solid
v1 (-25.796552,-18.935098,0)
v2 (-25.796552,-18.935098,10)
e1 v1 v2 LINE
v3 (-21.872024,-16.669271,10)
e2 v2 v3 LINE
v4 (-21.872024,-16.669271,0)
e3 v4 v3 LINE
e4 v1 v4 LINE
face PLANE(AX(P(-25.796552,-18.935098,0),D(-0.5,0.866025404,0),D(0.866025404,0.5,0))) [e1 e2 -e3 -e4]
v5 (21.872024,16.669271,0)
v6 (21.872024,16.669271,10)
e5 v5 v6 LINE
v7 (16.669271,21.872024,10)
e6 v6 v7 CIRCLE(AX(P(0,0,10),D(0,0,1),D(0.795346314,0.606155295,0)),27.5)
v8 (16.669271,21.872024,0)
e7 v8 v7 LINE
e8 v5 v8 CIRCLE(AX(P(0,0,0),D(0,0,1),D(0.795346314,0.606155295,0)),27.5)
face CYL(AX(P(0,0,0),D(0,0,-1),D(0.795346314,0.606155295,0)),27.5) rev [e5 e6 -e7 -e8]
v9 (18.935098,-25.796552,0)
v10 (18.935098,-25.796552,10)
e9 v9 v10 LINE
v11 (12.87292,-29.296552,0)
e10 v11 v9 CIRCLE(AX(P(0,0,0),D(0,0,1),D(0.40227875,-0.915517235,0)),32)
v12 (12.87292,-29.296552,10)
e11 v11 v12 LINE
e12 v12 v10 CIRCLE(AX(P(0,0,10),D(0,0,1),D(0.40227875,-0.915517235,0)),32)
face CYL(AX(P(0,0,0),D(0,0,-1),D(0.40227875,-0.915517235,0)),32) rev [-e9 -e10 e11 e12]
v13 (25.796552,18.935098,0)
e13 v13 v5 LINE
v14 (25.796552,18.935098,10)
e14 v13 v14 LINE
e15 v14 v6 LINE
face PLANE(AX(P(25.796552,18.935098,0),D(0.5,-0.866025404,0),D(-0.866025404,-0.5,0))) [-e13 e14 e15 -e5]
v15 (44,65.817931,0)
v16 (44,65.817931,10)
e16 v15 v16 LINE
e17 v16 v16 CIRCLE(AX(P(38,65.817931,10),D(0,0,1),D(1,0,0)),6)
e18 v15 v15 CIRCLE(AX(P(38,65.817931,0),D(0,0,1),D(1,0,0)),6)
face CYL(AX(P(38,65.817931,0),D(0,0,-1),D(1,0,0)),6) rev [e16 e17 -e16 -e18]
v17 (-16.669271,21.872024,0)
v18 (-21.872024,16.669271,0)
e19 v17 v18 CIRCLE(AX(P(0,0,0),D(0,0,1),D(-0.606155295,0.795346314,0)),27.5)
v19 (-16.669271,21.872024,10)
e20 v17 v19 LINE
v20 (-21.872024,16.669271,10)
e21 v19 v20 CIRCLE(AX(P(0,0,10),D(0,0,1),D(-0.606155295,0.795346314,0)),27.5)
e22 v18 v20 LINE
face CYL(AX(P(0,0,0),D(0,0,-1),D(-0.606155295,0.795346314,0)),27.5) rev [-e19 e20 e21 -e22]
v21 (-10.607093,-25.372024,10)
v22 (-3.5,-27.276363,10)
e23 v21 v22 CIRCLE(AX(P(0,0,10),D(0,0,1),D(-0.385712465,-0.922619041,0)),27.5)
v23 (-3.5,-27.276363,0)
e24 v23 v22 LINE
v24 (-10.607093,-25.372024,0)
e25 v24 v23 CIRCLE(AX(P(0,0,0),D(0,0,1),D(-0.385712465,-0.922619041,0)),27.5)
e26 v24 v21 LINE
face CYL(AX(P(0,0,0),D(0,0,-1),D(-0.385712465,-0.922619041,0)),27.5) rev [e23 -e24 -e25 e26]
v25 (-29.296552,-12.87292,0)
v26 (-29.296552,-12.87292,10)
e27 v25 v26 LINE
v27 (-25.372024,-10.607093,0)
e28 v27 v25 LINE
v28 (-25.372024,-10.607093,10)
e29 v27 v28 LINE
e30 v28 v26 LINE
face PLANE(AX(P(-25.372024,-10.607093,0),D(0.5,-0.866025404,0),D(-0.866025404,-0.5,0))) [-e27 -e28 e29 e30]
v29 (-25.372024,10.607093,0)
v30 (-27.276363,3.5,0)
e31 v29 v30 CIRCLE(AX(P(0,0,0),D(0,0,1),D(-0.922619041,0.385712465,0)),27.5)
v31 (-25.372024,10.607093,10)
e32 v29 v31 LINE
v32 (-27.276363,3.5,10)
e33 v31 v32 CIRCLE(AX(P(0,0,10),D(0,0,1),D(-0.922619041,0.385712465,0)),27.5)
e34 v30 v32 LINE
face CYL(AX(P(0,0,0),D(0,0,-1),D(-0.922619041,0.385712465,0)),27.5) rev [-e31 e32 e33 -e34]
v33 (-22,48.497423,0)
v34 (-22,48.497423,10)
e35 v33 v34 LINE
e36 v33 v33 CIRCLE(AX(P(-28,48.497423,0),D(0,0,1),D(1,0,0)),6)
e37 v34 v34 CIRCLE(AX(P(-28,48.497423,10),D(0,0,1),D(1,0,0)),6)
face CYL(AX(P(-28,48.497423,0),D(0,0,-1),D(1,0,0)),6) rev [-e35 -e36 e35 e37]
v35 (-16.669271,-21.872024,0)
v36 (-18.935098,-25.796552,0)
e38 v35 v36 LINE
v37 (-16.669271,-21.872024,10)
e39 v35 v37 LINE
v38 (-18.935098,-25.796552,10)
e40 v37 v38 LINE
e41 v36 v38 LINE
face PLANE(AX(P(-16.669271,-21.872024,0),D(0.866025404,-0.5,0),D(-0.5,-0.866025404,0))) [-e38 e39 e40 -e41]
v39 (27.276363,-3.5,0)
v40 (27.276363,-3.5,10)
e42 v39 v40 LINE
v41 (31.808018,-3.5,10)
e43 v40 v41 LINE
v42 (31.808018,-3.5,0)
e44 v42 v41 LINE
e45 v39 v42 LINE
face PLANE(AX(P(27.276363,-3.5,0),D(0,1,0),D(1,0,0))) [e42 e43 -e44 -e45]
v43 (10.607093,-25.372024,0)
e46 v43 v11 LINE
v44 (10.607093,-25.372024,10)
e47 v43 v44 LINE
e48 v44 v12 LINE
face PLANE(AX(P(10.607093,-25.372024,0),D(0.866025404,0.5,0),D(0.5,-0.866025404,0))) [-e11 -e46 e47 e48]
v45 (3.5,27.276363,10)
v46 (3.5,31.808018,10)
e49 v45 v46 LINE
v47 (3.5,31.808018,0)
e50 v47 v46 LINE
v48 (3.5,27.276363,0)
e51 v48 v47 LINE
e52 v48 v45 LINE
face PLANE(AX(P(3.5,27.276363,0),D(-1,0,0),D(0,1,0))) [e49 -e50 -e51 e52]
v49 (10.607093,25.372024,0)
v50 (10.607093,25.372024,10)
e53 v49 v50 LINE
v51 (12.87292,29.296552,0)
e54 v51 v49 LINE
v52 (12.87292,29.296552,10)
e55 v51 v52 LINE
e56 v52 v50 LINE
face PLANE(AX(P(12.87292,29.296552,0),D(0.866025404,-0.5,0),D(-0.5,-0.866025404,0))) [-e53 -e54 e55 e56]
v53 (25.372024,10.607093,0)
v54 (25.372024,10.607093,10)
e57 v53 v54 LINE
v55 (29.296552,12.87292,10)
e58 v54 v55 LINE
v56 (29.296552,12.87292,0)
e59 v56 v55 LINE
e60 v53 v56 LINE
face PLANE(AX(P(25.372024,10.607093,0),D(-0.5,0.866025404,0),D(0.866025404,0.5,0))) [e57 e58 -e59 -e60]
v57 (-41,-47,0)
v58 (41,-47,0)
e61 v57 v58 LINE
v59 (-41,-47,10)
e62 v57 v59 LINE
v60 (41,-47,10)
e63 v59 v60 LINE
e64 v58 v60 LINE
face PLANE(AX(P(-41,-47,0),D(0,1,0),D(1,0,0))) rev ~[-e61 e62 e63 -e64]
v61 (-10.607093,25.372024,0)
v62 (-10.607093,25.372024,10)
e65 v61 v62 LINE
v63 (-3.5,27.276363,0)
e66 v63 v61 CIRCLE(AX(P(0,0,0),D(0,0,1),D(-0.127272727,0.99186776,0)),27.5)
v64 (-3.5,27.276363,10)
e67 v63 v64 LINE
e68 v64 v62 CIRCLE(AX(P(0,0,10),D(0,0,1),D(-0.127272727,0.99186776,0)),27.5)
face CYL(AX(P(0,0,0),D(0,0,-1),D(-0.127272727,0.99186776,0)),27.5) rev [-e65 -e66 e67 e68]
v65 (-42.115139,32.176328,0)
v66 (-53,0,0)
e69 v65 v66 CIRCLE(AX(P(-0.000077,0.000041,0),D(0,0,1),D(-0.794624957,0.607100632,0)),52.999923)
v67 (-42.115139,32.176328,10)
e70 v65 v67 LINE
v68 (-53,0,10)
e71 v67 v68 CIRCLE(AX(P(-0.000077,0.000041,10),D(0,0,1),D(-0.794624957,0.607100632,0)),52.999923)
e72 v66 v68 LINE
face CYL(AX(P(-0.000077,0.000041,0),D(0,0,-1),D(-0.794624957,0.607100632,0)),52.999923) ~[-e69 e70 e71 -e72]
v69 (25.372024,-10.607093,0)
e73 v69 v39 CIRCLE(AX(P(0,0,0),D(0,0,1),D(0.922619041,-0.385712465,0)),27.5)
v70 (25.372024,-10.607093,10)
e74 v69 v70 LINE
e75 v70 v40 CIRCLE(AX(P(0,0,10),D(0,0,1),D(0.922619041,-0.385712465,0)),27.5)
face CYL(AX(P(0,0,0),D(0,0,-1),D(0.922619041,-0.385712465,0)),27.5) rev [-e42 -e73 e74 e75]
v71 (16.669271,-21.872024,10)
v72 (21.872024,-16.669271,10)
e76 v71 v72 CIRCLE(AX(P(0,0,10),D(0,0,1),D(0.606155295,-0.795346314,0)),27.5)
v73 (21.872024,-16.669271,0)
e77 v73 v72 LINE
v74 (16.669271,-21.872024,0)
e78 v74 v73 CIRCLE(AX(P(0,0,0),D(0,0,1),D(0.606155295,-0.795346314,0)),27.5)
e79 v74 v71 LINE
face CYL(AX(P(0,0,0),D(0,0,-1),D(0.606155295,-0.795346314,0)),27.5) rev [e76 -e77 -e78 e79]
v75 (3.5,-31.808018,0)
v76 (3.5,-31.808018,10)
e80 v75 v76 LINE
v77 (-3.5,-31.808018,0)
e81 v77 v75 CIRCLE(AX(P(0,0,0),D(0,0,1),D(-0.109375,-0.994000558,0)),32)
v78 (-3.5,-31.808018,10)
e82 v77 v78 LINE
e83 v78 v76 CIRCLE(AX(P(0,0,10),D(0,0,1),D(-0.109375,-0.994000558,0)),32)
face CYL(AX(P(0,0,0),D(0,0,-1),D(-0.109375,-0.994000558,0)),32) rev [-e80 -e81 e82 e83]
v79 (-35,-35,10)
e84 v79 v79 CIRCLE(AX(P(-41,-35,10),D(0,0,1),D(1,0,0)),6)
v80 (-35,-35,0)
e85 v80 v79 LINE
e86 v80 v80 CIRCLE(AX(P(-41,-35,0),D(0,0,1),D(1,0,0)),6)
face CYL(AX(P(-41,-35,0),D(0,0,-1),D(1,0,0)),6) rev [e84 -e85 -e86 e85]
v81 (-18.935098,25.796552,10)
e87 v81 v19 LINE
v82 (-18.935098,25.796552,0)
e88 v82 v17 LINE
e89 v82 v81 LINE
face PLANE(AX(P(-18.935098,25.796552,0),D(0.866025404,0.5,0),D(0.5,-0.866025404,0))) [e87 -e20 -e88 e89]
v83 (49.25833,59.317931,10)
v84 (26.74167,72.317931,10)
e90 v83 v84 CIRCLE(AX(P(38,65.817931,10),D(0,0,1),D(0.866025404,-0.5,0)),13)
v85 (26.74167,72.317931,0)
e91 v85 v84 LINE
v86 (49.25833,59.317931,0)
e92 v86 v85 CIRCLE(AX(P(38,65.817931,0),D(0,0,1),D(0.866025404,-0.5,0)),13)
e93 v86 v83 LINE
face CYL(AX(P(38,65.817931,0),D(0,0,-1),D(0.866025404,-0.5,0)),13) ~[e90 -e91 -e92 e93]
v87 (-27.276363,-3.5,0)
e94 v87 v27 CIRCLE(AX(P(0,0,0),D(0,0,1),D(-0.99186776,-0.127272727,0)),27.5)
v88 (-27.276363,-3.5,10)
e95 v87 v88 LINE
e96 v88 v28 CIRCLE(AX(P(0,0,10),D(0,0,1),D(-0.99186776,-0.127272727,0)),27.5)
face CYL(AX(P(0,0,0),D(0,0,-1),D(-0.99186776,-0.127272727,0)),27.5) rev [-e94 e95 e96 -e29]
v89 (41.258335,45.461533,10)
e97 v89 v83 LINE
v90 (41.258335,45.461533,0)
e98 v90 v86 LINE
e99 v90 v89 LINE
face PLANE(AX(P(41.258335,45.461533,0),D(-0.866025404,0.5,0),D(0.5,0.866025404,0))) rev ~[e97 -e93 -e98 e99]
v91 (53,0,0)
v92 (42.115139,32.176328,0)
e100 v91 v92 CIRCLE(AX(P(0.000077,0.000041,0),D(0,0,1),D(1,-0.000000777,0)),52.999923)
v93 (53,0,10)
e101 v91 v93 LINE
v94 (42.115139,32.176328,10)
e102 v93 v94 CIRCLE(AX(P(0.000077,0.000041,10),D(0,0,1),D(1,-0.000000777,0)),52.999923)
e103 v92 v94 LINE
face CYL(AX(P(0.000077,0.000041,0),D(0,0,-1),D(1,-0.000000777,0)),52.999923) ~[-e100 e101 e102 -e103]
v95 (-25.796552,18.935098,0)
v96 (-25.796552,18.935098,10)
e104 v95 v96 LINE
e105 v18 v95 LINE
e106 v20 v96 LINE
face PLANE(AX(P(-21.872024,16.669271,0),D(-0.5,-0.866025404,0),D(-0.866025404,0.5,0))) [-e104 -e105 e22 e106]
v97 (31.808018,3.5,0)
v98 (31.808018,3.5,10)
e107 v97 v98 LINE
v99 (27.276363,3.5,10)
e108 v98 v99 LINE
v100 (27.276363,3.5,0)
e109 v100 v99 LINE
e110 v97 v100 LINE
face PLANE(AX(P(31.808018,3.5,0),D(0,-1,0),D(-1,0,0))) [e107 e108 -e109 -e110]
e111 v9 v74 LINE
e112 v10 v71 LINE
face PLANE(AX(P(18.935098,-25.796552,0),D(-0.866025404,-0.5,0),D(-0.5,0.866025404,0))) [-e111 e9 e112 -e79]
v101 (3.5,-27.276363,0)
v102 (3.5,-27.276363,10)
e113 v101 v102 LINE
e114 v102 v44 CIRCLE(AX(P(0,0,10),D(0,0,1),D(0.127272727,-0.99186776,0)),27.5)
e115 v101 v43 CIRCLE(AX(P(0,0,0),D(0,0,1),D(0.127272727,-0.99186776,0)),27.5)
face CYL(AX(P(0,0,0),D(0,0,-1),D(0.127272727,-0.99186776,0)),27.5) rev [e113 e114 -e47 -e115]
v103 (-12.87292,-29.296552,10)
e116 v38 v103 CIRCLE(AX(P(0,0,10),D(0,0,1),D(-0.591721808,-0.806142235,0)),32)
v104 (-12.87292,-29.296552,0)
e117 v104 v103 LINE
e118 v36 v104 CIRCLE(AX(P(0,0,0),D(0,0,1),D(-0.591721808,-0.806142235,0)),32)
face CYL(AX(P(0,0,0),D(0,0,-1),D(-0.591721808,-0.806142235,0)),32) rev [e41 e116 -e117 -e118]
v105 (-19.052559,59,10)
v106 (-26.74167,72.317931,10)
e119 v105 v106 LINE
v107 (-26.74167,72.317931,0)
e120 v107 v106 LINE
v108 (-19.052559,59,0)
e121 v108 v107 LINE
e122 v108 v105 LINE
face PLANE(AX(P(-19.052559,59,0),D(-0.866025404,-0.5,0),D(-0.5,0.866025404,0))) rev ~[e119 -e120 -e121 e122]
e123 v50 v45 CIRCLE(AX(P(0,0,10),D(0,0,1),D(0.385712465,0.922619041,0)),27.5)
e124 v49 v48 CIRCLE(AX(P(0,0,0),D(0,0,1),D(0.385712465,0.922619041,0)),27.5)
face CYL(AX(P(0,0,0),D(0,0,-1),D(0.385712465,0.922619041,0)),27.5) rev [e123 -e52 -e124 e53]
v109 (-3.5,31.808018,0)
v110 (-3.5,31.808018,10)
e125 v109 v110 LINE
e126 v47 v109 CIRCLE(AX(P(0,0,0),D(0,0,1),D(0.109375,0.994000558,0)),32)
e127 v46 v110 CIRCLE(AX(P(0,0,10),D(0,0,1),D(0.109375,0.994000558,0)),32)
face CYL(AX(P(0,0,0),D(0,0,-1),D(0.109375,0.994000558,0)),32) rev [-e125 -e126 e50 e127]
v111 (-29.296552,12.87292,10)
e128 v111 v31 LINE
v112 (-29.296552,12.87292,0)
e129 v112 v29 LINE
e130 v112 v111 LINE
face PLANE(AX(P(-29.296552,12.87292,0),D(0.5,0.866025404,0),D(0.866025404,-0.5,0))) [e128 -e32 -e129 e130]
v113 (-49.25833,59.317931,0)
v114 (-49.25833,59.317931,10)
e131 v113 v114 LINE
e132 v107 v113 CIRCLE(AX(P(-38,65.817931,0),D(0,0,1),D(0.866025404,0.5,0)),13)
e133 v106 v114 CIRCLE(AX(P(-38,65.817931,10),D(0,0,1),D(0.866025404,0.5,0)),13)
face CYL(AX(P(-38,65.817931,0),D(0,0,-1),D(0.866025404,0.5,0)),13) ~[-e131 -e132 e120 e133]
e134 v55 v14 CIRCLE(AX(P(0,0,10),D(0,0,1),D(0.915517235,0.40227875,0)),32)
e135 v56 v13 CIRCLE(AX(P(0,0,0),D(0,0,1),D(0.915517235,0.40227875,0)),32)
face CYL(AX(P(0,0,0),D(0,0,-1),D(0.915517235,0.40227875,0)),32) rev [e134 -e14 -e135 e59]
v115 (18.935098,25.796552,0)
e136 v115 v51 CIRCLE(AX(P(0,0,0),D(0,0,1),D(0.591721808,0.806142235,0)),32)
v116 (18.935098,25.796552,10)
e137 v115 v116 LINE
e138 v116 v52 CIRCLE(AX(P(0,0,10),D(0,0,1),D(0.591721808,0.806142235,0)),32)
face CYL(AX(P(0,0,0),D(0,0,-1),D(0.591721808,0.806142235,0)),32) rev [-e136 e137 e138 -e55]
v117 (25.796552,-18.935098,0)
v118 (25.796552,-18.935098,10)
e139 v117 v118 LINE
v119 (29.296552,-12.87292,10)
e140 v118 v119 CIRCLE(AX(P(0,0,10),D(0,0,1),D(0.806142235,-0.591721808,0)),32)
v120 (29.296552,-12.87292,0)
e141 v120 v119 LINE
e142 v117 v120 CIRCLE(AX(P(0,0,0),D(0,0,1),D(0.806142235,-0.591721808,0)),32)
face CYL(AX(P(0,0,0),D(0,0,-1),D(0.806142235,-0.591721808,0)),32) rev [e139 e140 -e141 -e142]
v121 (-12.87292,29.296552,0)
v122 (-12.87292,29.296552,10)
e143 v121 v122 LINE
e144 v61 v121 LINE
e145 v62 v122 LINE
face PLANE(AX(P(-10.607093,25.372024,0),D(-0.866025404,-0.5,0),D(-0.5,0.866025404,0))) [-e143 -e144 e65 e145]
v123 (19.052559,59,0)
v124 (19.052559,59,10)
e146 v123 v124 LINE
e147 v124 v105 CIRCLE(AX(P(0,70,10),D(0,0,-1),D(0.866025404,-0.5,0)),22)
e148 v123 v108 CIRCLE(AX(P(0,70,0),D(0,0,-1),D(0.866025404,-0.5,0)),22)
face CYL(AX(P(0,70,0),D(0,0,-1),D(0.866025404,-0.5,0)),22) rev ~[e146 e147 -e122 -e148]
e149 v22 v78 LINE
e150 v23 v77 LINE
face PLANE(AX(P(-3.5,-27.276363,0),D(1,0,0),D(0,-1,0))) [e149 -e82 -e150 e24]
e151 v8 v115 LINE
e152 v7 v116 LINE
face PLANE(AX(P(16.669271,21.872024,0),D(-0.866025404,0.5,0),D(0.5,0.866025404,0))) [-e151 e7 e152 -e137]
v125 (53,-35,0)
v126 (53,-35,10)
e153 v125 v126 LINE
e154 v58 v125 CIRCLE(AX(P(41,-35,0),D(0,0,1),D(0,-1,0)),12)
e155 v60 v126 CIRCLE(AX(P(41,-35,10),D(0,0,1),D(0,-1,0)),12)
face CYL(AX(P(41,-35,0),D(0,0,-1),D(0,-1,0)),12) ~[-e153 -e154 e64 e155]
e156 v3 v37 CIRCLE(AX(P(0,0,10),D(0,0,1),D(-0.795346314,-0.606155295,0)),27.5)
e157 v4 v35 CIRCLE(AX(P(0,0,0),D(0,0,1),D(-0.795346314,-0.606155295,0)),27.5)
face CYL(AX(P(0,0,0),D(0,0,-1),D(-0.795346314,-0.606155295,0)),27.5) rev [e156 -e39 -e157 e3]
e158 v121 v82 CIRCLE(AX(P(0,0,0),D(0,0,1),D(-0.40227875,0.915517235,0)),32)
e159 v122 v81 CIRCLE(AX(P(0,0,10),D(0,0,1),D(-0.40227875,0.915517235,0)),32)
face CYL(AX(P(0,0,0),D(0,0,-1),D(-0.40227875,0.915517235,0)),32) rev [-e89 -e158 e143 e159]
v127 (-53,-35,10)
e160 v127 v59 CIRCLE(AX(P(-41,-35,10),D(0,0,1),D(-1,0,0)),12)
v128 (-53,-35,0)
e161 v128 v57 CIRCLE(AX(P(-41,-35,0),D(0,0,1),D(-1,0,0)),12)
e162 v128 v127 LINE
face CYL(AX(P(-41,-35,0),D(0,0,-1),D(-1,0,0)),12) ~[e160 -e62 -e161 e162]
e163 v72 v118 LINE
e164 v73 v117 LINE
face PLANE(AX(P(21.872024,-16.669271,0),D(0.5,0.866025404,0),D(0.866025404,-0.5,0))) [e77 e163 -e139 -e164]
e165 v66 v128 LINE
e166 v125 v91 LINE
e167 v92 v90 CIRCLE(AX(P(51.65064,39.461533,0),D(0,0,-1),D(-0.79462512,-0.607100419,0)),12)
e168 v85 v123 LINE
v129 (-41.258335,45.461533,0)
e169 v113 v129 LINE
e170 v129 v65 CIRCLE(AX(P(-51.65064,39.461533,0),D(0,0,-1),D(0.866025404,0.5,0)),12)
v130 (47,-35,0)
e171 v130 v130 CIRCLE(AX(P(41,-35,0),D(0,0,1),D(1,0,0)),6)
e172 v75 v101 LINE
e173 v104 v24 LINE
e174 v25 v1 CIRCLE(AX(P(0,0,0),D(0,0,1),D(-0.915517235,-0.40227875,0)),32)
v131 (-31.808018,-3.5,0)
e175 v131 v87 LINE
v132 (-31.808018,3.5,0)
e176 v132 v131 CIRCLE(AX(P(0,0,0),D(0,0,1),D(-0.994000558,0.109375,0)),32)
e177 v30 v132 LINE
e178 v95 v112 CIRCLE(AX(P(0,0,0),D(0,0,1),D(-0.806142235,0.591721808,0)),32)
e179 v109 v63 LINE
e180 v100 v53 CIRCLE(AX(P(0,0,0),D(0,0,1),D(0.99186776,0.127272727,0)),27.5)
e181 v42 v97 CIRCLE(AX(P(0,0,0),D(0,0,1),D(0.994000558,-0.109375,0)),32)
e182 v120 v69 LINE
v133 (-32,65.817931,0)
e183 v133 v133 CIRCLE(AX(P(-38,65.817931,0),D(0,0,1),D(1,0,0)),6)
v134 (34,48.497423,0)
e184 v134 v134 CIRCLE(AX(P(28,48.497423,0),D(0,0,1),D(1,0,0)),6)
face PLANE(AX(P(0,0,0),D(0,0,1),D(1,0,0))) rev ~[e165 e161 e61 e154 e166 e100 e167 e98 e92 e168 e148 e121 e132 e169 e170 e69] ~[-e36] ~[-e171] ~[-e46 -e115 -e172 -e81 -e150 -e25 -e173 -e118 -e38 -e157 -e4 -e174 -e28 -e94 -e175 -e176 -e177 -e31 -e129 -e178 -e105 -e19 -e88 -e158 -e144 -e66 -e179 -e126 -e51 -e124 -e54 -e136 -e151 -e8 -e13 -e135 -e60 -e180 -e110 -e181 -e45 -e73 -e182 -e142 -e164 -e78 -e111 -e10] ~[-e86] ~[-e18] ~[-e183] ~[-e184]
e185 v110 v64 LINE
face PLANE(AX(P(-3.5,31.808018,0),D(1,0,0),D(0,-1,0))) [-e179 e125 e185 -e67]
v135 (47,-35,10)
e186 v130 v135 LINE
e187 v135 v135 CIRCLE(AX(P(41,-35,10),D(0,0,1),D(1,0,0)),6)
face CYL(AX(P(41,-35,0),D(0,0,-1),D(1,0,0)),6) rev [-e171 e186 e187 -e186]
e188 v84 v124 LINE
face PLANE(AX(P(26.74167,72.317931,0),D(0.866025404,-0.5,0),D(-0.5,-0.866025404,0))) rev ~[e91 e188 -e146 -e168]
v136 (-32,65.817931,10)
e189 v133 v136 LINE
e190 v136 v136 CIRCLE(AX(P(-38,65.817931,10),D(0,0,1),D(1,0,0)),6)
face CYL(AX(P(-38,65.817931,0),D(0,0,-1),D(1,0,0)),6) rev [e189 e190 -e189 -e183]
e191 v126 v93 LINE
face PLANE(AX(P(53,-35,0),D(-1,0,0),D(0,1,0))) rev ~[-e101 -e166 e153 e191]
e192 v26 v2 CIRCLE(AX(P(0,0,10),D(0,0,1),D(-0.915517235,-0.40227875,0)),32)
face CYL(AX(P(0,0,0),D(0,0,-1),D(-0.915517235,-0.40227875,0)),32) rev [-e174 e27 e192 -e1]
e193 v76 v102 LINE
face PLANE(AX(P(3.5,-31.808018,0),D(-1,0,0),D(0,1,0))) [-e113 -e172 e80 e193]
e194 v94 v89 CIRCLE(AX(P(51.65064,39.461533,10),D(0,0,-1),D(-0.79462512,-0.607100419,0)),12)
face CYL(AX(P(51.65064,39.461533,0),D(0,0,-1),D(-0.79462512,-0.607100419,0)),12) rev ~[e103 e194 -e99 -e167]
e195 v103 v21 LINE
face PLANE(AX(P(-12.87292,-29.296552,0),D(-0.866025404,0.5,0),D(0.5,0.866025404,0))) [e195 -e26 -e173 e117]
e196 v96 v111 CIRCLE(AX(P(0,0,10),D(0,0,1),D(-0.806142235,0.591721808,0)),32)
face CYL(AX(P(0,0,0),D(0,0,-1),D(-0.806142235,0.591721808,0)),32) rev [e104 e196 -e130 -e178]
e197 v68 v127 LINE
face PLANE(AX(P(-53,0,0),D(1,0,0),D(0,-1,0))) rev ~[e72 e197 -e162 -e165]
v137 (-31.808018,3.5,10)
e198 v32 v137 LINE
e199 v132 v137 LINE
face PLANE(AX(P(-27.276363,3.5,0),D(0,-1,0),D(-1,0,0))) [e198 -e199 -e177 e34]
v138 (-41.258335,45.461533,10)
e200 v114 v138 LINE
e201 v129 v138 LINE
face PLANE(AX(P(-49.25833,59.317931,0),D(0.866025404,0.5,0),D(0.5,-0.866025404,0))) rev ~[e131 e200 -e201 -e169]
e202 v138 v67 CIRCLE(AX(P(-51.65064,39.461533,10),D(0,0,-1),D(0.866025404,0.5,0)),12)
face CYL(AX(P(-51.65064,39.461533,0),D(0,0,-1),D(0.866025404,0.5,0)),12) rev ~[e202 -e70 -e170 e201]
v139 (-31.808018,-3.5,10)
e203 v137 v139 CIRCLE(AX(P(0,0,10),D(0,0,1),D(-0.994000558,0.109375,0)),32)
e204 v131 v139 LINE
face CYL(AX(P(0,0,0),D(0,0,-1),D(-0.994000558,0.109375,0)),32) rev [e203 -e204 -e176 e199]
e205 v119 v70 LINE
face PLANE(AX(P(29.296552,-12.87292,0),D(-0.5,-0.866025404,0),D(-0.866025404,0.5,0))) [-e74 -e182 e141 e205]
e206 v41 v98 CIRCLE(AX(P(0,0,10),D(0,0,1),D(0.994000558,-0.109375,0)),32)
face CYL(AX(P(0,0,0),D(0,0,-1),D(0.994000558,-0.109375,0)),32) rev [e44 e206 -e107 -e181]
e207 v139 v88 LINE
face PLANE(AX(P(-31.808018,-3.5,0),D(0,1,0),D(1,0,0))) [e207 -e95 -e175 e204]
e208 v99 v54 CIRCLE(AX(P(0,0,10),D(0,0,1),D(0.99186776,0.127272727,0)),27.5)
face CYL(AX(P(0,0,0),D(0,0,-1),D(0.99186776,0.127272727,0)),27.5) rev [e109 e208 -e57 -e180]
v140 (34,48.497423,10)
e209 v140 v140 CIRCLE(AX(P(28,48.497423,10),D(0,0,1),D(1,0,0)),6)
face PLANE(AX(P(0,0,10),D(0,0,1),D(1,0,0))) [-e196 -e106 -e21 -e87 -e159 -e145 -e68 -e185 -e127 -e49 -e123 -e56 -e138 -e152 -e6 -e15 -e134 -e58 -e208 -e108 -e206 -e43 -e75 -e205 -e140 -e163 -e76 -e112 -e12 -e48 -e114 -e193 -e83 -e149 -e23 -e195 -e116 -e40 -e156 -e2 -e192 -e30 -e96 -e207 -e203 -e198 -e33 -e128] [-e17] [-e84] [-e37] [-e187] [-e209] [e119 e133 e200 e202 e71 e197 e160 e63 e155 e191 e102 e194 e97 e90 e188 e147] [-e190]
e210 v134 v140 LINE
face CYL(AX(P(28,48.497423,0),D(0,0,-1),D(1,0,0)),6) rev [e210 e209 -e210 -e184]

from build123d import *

# Parameters (mm, degrees)
CROQUIS1_R              = 6
CROQUIS1_R_2            = 41
SALIENTE_EXTRUIR1_DEPTH = 10


with BuildPart() as part:
    # Croquis1 → Saliente-Extruir1 (new body)
    # profile 1 of 2: a face of its own
    with BuildSketch(Plane.XY):
        with BuildLine():
            ThreePointArc((49.258330249, 59.317930688), (44.5, 77.076260937), (26.741669751, 72.317930688))
            Line((26.741669751, 72.317930688), (19.052558883, 59))
            ThreePointArc((19.052558883, 59), (0, 48), (-19.052558883, 59))
            Line((-19.052558883, 59), (-26.741669751, 72.317930688))
            ThreePointArc((-26.741669751, 72.317930688), (-44.5, 77.076260937), (-49.258330249, 59.317930688))
            Line((-49.258330249, 59.317930688), (-41.258335188, 45.461532781))
            ThreePointArc((-41.258335188, 45.461532781), (-39.675518573, 38.68922066), (-42.115138595, 32.176327751))
            ThreePointArc((-42.115138595, 32.176327751), (-50.205097588, 16.983790583), (-53, 0))
            Line((-53, 0), (-53, -35))
            ThreePointArc((-53, -35), (-49.485281374, -43.485281374), (-41, -47))
            Line((-41, -47), (-9.521486782, -47))
            Line((-9.521486782, -47), (9.521486782, -47))
            Line((9.521486782, -47), (41, -47))
            ThreePointArc((41, -47), (49.485281374, -43.485281374), (53, -35))
            Line((53, -35), (53, 0))
            ThreePointArc((53, 0), (50.205097588, 16.983790583), (42.115138595, 32.176327751))
            ThreePointArc((42.115138595, 32.176327751), (39.675518573, 38.68922066), (41.258335188, 45.461532781))
            Line((41.258335188, 45.461532781), (49.258330249, 59.317930688))
        make_face()
        with Locations((-41, -35)):
            Circle(CROQUIS1_R, mode=Mode.SUBTRACT)
        with Locations((41, -35)):
            Circle(CROQUIS1_R, mode=Mode.SUBTRACT)
        Circle(CROQUIS1_R_2, mode=Mode.SUBTRACT)
        with Locations((-28, 48.497422612)):
            Circle(CROQUIS1_R, mode=Mode.SUBTRACT)
        with Locations((-38, 65.817930688)):
            Circle(CROQUIS1_R, mode=Mode.SUBTRACT)
        with Locations((28, 48.497422612)):
            Circle(CROQUIS1_R, mode=Mode.SUBTRACT)
        with Locations((38, 65.817930688)):
            Circle(CROQUIS1_R, mode=Mode.SUBTRACT)
    # profile 2 of 2: a face of its own
    with BuildSketch(Plane.XY):
        Circle(CROQUIS1_R_2)
        with BuildLine():
            ThreePointArc((10.607092784, 25.372023622), (7.11752374, 26.562960223), (3.5, 27.276363394))
            Line((3.5, 27.276363394), (3.5, 31.808017857))
            ThreePointArc((3.5, 31.808017857), (0, 32), (-3.5, 31.808017857))
            Line((-3.5, 31.808017857), (-3.5, 27.276363394))
            ThreePointArc((-3.5, 27.276363394), (-7.11752374, 26.562960223), (-10.607092784, 25.372023622))
            Line((-10.607092784, 25.372023622), (-12.872920015, 29.296551508))
            ThreePointArc((-12.872920015, 29.296551508), (-16, 27.712812921), (-18.935097842, 25.796551508))
            Line((-18.935097842, 25.796551508), (-16.66927061, 21.872023622))
            ThreePointArc((-16.66927061, 21.872023622), (-19.445436483, 19.445436483), (-21.872023622, 16.66927061))
            Line((-21.872023622, 16.66927061), (-25.796551508, 18.935097842))
            ThreePointArc((-25.796551508, 18.935097842), (-27.712812921, 16), (-29.296551508, 12.872920015))
            Line((-29.296551508, 12.872920015), (-25.372023622, 10.607092784))
            ThreePointArc((-25.372023622, 10.607092784), (-26.562960223, 7.11752374), (-27.276363394, 3.5))
            Line((-27.276363394, 3.5), (-31.808017857, 3.5))
            ThreePointArc((-31.808017857, 3.5), (-32, 0), (-31.808017857, -3.5))
            Line((-31.808017857, -3.5), (-27.276363394, -3.5))
            ThreePointArc((-27.276363394, -3.5), (-26.562960223, -7.11752374), (-25.372023622, -10.607092784))
            Line((-25.372023622, -10.607092784), (-29.296551508, -12.872920015))
            ThreePointArc((-29.296551508, -12.872920015), (-27.712812921, -16), (-25.796551508, -18.935097842))
            Line((-25.796551508, -18.935097842), (-21.872023622, -16.66927061))
            ThreePointArc((-21.872023622, -16.66927061), (-19.445436483, -19.445436483), (-16.66927061, -21.872023622))
            Line((-16.66927061, -21.872023622), (-18.935097842, -25.796551508))
            ThreePointArc((-18.935097842, -25.796551508), (-16, -27.712812921), (-12.872920015, -29.296551508))
            Line((-12.872920015, -29.296551508), (-10.607092784, -25.372023622))
            ThreePointArc((-10.607092784, -25.372023622), (-7.11752374, -26.562960223), (-3.5, -27.276363394))
            Line((-3.5, -27.276363394), (-3.5, -31.808017857))
            ThreePointArc((-3.5, -31.808017857), (0, -32), (3.5, -31.808017857))
            Line((3.5, -31.808017857), (3.5, -27.276363394))
            ThreePointArc((3.5, -27.276363394), (7.11752374, -26.562960223), (10.607092784, -25.372023622))
            Line((10.607092784, -25.372023622), (12.872920015, -29.296551508))
            ThreePointArc((12.872920015, -29.296551508), (16, -27.712812921), (18.935097842, -25.796551508))
            Line((18.935097842, -25.796551508), (16.66927061, -21.872023622))
            ThreePointArc((16.66927061, -21.872023622), (19.445436483, -19.445436483), (21.872023622, -16.66927061))
            Line((21.872023622, -16.66927061), (25.796551508, -18.935097842))
            ThreePointArc((25.796551508, -18.935097842), (27.712812921, -16), (29.296551508, -12.872920015))
            Line((29.296551508, -12.872920015), (25.372023622, -10.607092784))
            ThreePointArc((25.372023622, -10.607092784), (26.562960223, -7.11752374), (27.276363394, -3.5))
            Line((27.276363394, -3.5), (31.808017857, -3.5))
            ThreePointArc((31.808017857, -3.5), (32, 0), (31.808017857, 3.5))
            Line((31.808017857, 3.5), (27.276363394, 3.5))
            ThreePointArc((27.276363394, 3.5), (26.562960223, 7.11752374), (25.372023622, 10.607092784))
            Line((25.372023622, 10.607092784), (29.296551508, 12.872920015))
            ThreePointArc((29.296551508, 12.872920015), (27.712812921, 16), (25.796551508, 18.935097842))
            Line((25.796551508, 18.935097842), (21.872023622, 16.66927061))
            ThreePointArc((21.872023622, 16.66927061), (19.445436483, 19.445436483), (16.66927061, 21.872023622))
            Line((16.66927061, 21.872023622), (18.935097842, 25.796551508))
            ThreePointArc((18.935097842, 25.796551508), (16, 27.712812921), (12.872920015, 29.296551508))
            Line((12.872920015, 29.296551508), (10.607092784, 25.372023622))
        make_face(mode=Mode.SUBTRACT)
    extrude(amount=SALIENTE_EXTRUIR1_DEPTH)


solid = part.part
